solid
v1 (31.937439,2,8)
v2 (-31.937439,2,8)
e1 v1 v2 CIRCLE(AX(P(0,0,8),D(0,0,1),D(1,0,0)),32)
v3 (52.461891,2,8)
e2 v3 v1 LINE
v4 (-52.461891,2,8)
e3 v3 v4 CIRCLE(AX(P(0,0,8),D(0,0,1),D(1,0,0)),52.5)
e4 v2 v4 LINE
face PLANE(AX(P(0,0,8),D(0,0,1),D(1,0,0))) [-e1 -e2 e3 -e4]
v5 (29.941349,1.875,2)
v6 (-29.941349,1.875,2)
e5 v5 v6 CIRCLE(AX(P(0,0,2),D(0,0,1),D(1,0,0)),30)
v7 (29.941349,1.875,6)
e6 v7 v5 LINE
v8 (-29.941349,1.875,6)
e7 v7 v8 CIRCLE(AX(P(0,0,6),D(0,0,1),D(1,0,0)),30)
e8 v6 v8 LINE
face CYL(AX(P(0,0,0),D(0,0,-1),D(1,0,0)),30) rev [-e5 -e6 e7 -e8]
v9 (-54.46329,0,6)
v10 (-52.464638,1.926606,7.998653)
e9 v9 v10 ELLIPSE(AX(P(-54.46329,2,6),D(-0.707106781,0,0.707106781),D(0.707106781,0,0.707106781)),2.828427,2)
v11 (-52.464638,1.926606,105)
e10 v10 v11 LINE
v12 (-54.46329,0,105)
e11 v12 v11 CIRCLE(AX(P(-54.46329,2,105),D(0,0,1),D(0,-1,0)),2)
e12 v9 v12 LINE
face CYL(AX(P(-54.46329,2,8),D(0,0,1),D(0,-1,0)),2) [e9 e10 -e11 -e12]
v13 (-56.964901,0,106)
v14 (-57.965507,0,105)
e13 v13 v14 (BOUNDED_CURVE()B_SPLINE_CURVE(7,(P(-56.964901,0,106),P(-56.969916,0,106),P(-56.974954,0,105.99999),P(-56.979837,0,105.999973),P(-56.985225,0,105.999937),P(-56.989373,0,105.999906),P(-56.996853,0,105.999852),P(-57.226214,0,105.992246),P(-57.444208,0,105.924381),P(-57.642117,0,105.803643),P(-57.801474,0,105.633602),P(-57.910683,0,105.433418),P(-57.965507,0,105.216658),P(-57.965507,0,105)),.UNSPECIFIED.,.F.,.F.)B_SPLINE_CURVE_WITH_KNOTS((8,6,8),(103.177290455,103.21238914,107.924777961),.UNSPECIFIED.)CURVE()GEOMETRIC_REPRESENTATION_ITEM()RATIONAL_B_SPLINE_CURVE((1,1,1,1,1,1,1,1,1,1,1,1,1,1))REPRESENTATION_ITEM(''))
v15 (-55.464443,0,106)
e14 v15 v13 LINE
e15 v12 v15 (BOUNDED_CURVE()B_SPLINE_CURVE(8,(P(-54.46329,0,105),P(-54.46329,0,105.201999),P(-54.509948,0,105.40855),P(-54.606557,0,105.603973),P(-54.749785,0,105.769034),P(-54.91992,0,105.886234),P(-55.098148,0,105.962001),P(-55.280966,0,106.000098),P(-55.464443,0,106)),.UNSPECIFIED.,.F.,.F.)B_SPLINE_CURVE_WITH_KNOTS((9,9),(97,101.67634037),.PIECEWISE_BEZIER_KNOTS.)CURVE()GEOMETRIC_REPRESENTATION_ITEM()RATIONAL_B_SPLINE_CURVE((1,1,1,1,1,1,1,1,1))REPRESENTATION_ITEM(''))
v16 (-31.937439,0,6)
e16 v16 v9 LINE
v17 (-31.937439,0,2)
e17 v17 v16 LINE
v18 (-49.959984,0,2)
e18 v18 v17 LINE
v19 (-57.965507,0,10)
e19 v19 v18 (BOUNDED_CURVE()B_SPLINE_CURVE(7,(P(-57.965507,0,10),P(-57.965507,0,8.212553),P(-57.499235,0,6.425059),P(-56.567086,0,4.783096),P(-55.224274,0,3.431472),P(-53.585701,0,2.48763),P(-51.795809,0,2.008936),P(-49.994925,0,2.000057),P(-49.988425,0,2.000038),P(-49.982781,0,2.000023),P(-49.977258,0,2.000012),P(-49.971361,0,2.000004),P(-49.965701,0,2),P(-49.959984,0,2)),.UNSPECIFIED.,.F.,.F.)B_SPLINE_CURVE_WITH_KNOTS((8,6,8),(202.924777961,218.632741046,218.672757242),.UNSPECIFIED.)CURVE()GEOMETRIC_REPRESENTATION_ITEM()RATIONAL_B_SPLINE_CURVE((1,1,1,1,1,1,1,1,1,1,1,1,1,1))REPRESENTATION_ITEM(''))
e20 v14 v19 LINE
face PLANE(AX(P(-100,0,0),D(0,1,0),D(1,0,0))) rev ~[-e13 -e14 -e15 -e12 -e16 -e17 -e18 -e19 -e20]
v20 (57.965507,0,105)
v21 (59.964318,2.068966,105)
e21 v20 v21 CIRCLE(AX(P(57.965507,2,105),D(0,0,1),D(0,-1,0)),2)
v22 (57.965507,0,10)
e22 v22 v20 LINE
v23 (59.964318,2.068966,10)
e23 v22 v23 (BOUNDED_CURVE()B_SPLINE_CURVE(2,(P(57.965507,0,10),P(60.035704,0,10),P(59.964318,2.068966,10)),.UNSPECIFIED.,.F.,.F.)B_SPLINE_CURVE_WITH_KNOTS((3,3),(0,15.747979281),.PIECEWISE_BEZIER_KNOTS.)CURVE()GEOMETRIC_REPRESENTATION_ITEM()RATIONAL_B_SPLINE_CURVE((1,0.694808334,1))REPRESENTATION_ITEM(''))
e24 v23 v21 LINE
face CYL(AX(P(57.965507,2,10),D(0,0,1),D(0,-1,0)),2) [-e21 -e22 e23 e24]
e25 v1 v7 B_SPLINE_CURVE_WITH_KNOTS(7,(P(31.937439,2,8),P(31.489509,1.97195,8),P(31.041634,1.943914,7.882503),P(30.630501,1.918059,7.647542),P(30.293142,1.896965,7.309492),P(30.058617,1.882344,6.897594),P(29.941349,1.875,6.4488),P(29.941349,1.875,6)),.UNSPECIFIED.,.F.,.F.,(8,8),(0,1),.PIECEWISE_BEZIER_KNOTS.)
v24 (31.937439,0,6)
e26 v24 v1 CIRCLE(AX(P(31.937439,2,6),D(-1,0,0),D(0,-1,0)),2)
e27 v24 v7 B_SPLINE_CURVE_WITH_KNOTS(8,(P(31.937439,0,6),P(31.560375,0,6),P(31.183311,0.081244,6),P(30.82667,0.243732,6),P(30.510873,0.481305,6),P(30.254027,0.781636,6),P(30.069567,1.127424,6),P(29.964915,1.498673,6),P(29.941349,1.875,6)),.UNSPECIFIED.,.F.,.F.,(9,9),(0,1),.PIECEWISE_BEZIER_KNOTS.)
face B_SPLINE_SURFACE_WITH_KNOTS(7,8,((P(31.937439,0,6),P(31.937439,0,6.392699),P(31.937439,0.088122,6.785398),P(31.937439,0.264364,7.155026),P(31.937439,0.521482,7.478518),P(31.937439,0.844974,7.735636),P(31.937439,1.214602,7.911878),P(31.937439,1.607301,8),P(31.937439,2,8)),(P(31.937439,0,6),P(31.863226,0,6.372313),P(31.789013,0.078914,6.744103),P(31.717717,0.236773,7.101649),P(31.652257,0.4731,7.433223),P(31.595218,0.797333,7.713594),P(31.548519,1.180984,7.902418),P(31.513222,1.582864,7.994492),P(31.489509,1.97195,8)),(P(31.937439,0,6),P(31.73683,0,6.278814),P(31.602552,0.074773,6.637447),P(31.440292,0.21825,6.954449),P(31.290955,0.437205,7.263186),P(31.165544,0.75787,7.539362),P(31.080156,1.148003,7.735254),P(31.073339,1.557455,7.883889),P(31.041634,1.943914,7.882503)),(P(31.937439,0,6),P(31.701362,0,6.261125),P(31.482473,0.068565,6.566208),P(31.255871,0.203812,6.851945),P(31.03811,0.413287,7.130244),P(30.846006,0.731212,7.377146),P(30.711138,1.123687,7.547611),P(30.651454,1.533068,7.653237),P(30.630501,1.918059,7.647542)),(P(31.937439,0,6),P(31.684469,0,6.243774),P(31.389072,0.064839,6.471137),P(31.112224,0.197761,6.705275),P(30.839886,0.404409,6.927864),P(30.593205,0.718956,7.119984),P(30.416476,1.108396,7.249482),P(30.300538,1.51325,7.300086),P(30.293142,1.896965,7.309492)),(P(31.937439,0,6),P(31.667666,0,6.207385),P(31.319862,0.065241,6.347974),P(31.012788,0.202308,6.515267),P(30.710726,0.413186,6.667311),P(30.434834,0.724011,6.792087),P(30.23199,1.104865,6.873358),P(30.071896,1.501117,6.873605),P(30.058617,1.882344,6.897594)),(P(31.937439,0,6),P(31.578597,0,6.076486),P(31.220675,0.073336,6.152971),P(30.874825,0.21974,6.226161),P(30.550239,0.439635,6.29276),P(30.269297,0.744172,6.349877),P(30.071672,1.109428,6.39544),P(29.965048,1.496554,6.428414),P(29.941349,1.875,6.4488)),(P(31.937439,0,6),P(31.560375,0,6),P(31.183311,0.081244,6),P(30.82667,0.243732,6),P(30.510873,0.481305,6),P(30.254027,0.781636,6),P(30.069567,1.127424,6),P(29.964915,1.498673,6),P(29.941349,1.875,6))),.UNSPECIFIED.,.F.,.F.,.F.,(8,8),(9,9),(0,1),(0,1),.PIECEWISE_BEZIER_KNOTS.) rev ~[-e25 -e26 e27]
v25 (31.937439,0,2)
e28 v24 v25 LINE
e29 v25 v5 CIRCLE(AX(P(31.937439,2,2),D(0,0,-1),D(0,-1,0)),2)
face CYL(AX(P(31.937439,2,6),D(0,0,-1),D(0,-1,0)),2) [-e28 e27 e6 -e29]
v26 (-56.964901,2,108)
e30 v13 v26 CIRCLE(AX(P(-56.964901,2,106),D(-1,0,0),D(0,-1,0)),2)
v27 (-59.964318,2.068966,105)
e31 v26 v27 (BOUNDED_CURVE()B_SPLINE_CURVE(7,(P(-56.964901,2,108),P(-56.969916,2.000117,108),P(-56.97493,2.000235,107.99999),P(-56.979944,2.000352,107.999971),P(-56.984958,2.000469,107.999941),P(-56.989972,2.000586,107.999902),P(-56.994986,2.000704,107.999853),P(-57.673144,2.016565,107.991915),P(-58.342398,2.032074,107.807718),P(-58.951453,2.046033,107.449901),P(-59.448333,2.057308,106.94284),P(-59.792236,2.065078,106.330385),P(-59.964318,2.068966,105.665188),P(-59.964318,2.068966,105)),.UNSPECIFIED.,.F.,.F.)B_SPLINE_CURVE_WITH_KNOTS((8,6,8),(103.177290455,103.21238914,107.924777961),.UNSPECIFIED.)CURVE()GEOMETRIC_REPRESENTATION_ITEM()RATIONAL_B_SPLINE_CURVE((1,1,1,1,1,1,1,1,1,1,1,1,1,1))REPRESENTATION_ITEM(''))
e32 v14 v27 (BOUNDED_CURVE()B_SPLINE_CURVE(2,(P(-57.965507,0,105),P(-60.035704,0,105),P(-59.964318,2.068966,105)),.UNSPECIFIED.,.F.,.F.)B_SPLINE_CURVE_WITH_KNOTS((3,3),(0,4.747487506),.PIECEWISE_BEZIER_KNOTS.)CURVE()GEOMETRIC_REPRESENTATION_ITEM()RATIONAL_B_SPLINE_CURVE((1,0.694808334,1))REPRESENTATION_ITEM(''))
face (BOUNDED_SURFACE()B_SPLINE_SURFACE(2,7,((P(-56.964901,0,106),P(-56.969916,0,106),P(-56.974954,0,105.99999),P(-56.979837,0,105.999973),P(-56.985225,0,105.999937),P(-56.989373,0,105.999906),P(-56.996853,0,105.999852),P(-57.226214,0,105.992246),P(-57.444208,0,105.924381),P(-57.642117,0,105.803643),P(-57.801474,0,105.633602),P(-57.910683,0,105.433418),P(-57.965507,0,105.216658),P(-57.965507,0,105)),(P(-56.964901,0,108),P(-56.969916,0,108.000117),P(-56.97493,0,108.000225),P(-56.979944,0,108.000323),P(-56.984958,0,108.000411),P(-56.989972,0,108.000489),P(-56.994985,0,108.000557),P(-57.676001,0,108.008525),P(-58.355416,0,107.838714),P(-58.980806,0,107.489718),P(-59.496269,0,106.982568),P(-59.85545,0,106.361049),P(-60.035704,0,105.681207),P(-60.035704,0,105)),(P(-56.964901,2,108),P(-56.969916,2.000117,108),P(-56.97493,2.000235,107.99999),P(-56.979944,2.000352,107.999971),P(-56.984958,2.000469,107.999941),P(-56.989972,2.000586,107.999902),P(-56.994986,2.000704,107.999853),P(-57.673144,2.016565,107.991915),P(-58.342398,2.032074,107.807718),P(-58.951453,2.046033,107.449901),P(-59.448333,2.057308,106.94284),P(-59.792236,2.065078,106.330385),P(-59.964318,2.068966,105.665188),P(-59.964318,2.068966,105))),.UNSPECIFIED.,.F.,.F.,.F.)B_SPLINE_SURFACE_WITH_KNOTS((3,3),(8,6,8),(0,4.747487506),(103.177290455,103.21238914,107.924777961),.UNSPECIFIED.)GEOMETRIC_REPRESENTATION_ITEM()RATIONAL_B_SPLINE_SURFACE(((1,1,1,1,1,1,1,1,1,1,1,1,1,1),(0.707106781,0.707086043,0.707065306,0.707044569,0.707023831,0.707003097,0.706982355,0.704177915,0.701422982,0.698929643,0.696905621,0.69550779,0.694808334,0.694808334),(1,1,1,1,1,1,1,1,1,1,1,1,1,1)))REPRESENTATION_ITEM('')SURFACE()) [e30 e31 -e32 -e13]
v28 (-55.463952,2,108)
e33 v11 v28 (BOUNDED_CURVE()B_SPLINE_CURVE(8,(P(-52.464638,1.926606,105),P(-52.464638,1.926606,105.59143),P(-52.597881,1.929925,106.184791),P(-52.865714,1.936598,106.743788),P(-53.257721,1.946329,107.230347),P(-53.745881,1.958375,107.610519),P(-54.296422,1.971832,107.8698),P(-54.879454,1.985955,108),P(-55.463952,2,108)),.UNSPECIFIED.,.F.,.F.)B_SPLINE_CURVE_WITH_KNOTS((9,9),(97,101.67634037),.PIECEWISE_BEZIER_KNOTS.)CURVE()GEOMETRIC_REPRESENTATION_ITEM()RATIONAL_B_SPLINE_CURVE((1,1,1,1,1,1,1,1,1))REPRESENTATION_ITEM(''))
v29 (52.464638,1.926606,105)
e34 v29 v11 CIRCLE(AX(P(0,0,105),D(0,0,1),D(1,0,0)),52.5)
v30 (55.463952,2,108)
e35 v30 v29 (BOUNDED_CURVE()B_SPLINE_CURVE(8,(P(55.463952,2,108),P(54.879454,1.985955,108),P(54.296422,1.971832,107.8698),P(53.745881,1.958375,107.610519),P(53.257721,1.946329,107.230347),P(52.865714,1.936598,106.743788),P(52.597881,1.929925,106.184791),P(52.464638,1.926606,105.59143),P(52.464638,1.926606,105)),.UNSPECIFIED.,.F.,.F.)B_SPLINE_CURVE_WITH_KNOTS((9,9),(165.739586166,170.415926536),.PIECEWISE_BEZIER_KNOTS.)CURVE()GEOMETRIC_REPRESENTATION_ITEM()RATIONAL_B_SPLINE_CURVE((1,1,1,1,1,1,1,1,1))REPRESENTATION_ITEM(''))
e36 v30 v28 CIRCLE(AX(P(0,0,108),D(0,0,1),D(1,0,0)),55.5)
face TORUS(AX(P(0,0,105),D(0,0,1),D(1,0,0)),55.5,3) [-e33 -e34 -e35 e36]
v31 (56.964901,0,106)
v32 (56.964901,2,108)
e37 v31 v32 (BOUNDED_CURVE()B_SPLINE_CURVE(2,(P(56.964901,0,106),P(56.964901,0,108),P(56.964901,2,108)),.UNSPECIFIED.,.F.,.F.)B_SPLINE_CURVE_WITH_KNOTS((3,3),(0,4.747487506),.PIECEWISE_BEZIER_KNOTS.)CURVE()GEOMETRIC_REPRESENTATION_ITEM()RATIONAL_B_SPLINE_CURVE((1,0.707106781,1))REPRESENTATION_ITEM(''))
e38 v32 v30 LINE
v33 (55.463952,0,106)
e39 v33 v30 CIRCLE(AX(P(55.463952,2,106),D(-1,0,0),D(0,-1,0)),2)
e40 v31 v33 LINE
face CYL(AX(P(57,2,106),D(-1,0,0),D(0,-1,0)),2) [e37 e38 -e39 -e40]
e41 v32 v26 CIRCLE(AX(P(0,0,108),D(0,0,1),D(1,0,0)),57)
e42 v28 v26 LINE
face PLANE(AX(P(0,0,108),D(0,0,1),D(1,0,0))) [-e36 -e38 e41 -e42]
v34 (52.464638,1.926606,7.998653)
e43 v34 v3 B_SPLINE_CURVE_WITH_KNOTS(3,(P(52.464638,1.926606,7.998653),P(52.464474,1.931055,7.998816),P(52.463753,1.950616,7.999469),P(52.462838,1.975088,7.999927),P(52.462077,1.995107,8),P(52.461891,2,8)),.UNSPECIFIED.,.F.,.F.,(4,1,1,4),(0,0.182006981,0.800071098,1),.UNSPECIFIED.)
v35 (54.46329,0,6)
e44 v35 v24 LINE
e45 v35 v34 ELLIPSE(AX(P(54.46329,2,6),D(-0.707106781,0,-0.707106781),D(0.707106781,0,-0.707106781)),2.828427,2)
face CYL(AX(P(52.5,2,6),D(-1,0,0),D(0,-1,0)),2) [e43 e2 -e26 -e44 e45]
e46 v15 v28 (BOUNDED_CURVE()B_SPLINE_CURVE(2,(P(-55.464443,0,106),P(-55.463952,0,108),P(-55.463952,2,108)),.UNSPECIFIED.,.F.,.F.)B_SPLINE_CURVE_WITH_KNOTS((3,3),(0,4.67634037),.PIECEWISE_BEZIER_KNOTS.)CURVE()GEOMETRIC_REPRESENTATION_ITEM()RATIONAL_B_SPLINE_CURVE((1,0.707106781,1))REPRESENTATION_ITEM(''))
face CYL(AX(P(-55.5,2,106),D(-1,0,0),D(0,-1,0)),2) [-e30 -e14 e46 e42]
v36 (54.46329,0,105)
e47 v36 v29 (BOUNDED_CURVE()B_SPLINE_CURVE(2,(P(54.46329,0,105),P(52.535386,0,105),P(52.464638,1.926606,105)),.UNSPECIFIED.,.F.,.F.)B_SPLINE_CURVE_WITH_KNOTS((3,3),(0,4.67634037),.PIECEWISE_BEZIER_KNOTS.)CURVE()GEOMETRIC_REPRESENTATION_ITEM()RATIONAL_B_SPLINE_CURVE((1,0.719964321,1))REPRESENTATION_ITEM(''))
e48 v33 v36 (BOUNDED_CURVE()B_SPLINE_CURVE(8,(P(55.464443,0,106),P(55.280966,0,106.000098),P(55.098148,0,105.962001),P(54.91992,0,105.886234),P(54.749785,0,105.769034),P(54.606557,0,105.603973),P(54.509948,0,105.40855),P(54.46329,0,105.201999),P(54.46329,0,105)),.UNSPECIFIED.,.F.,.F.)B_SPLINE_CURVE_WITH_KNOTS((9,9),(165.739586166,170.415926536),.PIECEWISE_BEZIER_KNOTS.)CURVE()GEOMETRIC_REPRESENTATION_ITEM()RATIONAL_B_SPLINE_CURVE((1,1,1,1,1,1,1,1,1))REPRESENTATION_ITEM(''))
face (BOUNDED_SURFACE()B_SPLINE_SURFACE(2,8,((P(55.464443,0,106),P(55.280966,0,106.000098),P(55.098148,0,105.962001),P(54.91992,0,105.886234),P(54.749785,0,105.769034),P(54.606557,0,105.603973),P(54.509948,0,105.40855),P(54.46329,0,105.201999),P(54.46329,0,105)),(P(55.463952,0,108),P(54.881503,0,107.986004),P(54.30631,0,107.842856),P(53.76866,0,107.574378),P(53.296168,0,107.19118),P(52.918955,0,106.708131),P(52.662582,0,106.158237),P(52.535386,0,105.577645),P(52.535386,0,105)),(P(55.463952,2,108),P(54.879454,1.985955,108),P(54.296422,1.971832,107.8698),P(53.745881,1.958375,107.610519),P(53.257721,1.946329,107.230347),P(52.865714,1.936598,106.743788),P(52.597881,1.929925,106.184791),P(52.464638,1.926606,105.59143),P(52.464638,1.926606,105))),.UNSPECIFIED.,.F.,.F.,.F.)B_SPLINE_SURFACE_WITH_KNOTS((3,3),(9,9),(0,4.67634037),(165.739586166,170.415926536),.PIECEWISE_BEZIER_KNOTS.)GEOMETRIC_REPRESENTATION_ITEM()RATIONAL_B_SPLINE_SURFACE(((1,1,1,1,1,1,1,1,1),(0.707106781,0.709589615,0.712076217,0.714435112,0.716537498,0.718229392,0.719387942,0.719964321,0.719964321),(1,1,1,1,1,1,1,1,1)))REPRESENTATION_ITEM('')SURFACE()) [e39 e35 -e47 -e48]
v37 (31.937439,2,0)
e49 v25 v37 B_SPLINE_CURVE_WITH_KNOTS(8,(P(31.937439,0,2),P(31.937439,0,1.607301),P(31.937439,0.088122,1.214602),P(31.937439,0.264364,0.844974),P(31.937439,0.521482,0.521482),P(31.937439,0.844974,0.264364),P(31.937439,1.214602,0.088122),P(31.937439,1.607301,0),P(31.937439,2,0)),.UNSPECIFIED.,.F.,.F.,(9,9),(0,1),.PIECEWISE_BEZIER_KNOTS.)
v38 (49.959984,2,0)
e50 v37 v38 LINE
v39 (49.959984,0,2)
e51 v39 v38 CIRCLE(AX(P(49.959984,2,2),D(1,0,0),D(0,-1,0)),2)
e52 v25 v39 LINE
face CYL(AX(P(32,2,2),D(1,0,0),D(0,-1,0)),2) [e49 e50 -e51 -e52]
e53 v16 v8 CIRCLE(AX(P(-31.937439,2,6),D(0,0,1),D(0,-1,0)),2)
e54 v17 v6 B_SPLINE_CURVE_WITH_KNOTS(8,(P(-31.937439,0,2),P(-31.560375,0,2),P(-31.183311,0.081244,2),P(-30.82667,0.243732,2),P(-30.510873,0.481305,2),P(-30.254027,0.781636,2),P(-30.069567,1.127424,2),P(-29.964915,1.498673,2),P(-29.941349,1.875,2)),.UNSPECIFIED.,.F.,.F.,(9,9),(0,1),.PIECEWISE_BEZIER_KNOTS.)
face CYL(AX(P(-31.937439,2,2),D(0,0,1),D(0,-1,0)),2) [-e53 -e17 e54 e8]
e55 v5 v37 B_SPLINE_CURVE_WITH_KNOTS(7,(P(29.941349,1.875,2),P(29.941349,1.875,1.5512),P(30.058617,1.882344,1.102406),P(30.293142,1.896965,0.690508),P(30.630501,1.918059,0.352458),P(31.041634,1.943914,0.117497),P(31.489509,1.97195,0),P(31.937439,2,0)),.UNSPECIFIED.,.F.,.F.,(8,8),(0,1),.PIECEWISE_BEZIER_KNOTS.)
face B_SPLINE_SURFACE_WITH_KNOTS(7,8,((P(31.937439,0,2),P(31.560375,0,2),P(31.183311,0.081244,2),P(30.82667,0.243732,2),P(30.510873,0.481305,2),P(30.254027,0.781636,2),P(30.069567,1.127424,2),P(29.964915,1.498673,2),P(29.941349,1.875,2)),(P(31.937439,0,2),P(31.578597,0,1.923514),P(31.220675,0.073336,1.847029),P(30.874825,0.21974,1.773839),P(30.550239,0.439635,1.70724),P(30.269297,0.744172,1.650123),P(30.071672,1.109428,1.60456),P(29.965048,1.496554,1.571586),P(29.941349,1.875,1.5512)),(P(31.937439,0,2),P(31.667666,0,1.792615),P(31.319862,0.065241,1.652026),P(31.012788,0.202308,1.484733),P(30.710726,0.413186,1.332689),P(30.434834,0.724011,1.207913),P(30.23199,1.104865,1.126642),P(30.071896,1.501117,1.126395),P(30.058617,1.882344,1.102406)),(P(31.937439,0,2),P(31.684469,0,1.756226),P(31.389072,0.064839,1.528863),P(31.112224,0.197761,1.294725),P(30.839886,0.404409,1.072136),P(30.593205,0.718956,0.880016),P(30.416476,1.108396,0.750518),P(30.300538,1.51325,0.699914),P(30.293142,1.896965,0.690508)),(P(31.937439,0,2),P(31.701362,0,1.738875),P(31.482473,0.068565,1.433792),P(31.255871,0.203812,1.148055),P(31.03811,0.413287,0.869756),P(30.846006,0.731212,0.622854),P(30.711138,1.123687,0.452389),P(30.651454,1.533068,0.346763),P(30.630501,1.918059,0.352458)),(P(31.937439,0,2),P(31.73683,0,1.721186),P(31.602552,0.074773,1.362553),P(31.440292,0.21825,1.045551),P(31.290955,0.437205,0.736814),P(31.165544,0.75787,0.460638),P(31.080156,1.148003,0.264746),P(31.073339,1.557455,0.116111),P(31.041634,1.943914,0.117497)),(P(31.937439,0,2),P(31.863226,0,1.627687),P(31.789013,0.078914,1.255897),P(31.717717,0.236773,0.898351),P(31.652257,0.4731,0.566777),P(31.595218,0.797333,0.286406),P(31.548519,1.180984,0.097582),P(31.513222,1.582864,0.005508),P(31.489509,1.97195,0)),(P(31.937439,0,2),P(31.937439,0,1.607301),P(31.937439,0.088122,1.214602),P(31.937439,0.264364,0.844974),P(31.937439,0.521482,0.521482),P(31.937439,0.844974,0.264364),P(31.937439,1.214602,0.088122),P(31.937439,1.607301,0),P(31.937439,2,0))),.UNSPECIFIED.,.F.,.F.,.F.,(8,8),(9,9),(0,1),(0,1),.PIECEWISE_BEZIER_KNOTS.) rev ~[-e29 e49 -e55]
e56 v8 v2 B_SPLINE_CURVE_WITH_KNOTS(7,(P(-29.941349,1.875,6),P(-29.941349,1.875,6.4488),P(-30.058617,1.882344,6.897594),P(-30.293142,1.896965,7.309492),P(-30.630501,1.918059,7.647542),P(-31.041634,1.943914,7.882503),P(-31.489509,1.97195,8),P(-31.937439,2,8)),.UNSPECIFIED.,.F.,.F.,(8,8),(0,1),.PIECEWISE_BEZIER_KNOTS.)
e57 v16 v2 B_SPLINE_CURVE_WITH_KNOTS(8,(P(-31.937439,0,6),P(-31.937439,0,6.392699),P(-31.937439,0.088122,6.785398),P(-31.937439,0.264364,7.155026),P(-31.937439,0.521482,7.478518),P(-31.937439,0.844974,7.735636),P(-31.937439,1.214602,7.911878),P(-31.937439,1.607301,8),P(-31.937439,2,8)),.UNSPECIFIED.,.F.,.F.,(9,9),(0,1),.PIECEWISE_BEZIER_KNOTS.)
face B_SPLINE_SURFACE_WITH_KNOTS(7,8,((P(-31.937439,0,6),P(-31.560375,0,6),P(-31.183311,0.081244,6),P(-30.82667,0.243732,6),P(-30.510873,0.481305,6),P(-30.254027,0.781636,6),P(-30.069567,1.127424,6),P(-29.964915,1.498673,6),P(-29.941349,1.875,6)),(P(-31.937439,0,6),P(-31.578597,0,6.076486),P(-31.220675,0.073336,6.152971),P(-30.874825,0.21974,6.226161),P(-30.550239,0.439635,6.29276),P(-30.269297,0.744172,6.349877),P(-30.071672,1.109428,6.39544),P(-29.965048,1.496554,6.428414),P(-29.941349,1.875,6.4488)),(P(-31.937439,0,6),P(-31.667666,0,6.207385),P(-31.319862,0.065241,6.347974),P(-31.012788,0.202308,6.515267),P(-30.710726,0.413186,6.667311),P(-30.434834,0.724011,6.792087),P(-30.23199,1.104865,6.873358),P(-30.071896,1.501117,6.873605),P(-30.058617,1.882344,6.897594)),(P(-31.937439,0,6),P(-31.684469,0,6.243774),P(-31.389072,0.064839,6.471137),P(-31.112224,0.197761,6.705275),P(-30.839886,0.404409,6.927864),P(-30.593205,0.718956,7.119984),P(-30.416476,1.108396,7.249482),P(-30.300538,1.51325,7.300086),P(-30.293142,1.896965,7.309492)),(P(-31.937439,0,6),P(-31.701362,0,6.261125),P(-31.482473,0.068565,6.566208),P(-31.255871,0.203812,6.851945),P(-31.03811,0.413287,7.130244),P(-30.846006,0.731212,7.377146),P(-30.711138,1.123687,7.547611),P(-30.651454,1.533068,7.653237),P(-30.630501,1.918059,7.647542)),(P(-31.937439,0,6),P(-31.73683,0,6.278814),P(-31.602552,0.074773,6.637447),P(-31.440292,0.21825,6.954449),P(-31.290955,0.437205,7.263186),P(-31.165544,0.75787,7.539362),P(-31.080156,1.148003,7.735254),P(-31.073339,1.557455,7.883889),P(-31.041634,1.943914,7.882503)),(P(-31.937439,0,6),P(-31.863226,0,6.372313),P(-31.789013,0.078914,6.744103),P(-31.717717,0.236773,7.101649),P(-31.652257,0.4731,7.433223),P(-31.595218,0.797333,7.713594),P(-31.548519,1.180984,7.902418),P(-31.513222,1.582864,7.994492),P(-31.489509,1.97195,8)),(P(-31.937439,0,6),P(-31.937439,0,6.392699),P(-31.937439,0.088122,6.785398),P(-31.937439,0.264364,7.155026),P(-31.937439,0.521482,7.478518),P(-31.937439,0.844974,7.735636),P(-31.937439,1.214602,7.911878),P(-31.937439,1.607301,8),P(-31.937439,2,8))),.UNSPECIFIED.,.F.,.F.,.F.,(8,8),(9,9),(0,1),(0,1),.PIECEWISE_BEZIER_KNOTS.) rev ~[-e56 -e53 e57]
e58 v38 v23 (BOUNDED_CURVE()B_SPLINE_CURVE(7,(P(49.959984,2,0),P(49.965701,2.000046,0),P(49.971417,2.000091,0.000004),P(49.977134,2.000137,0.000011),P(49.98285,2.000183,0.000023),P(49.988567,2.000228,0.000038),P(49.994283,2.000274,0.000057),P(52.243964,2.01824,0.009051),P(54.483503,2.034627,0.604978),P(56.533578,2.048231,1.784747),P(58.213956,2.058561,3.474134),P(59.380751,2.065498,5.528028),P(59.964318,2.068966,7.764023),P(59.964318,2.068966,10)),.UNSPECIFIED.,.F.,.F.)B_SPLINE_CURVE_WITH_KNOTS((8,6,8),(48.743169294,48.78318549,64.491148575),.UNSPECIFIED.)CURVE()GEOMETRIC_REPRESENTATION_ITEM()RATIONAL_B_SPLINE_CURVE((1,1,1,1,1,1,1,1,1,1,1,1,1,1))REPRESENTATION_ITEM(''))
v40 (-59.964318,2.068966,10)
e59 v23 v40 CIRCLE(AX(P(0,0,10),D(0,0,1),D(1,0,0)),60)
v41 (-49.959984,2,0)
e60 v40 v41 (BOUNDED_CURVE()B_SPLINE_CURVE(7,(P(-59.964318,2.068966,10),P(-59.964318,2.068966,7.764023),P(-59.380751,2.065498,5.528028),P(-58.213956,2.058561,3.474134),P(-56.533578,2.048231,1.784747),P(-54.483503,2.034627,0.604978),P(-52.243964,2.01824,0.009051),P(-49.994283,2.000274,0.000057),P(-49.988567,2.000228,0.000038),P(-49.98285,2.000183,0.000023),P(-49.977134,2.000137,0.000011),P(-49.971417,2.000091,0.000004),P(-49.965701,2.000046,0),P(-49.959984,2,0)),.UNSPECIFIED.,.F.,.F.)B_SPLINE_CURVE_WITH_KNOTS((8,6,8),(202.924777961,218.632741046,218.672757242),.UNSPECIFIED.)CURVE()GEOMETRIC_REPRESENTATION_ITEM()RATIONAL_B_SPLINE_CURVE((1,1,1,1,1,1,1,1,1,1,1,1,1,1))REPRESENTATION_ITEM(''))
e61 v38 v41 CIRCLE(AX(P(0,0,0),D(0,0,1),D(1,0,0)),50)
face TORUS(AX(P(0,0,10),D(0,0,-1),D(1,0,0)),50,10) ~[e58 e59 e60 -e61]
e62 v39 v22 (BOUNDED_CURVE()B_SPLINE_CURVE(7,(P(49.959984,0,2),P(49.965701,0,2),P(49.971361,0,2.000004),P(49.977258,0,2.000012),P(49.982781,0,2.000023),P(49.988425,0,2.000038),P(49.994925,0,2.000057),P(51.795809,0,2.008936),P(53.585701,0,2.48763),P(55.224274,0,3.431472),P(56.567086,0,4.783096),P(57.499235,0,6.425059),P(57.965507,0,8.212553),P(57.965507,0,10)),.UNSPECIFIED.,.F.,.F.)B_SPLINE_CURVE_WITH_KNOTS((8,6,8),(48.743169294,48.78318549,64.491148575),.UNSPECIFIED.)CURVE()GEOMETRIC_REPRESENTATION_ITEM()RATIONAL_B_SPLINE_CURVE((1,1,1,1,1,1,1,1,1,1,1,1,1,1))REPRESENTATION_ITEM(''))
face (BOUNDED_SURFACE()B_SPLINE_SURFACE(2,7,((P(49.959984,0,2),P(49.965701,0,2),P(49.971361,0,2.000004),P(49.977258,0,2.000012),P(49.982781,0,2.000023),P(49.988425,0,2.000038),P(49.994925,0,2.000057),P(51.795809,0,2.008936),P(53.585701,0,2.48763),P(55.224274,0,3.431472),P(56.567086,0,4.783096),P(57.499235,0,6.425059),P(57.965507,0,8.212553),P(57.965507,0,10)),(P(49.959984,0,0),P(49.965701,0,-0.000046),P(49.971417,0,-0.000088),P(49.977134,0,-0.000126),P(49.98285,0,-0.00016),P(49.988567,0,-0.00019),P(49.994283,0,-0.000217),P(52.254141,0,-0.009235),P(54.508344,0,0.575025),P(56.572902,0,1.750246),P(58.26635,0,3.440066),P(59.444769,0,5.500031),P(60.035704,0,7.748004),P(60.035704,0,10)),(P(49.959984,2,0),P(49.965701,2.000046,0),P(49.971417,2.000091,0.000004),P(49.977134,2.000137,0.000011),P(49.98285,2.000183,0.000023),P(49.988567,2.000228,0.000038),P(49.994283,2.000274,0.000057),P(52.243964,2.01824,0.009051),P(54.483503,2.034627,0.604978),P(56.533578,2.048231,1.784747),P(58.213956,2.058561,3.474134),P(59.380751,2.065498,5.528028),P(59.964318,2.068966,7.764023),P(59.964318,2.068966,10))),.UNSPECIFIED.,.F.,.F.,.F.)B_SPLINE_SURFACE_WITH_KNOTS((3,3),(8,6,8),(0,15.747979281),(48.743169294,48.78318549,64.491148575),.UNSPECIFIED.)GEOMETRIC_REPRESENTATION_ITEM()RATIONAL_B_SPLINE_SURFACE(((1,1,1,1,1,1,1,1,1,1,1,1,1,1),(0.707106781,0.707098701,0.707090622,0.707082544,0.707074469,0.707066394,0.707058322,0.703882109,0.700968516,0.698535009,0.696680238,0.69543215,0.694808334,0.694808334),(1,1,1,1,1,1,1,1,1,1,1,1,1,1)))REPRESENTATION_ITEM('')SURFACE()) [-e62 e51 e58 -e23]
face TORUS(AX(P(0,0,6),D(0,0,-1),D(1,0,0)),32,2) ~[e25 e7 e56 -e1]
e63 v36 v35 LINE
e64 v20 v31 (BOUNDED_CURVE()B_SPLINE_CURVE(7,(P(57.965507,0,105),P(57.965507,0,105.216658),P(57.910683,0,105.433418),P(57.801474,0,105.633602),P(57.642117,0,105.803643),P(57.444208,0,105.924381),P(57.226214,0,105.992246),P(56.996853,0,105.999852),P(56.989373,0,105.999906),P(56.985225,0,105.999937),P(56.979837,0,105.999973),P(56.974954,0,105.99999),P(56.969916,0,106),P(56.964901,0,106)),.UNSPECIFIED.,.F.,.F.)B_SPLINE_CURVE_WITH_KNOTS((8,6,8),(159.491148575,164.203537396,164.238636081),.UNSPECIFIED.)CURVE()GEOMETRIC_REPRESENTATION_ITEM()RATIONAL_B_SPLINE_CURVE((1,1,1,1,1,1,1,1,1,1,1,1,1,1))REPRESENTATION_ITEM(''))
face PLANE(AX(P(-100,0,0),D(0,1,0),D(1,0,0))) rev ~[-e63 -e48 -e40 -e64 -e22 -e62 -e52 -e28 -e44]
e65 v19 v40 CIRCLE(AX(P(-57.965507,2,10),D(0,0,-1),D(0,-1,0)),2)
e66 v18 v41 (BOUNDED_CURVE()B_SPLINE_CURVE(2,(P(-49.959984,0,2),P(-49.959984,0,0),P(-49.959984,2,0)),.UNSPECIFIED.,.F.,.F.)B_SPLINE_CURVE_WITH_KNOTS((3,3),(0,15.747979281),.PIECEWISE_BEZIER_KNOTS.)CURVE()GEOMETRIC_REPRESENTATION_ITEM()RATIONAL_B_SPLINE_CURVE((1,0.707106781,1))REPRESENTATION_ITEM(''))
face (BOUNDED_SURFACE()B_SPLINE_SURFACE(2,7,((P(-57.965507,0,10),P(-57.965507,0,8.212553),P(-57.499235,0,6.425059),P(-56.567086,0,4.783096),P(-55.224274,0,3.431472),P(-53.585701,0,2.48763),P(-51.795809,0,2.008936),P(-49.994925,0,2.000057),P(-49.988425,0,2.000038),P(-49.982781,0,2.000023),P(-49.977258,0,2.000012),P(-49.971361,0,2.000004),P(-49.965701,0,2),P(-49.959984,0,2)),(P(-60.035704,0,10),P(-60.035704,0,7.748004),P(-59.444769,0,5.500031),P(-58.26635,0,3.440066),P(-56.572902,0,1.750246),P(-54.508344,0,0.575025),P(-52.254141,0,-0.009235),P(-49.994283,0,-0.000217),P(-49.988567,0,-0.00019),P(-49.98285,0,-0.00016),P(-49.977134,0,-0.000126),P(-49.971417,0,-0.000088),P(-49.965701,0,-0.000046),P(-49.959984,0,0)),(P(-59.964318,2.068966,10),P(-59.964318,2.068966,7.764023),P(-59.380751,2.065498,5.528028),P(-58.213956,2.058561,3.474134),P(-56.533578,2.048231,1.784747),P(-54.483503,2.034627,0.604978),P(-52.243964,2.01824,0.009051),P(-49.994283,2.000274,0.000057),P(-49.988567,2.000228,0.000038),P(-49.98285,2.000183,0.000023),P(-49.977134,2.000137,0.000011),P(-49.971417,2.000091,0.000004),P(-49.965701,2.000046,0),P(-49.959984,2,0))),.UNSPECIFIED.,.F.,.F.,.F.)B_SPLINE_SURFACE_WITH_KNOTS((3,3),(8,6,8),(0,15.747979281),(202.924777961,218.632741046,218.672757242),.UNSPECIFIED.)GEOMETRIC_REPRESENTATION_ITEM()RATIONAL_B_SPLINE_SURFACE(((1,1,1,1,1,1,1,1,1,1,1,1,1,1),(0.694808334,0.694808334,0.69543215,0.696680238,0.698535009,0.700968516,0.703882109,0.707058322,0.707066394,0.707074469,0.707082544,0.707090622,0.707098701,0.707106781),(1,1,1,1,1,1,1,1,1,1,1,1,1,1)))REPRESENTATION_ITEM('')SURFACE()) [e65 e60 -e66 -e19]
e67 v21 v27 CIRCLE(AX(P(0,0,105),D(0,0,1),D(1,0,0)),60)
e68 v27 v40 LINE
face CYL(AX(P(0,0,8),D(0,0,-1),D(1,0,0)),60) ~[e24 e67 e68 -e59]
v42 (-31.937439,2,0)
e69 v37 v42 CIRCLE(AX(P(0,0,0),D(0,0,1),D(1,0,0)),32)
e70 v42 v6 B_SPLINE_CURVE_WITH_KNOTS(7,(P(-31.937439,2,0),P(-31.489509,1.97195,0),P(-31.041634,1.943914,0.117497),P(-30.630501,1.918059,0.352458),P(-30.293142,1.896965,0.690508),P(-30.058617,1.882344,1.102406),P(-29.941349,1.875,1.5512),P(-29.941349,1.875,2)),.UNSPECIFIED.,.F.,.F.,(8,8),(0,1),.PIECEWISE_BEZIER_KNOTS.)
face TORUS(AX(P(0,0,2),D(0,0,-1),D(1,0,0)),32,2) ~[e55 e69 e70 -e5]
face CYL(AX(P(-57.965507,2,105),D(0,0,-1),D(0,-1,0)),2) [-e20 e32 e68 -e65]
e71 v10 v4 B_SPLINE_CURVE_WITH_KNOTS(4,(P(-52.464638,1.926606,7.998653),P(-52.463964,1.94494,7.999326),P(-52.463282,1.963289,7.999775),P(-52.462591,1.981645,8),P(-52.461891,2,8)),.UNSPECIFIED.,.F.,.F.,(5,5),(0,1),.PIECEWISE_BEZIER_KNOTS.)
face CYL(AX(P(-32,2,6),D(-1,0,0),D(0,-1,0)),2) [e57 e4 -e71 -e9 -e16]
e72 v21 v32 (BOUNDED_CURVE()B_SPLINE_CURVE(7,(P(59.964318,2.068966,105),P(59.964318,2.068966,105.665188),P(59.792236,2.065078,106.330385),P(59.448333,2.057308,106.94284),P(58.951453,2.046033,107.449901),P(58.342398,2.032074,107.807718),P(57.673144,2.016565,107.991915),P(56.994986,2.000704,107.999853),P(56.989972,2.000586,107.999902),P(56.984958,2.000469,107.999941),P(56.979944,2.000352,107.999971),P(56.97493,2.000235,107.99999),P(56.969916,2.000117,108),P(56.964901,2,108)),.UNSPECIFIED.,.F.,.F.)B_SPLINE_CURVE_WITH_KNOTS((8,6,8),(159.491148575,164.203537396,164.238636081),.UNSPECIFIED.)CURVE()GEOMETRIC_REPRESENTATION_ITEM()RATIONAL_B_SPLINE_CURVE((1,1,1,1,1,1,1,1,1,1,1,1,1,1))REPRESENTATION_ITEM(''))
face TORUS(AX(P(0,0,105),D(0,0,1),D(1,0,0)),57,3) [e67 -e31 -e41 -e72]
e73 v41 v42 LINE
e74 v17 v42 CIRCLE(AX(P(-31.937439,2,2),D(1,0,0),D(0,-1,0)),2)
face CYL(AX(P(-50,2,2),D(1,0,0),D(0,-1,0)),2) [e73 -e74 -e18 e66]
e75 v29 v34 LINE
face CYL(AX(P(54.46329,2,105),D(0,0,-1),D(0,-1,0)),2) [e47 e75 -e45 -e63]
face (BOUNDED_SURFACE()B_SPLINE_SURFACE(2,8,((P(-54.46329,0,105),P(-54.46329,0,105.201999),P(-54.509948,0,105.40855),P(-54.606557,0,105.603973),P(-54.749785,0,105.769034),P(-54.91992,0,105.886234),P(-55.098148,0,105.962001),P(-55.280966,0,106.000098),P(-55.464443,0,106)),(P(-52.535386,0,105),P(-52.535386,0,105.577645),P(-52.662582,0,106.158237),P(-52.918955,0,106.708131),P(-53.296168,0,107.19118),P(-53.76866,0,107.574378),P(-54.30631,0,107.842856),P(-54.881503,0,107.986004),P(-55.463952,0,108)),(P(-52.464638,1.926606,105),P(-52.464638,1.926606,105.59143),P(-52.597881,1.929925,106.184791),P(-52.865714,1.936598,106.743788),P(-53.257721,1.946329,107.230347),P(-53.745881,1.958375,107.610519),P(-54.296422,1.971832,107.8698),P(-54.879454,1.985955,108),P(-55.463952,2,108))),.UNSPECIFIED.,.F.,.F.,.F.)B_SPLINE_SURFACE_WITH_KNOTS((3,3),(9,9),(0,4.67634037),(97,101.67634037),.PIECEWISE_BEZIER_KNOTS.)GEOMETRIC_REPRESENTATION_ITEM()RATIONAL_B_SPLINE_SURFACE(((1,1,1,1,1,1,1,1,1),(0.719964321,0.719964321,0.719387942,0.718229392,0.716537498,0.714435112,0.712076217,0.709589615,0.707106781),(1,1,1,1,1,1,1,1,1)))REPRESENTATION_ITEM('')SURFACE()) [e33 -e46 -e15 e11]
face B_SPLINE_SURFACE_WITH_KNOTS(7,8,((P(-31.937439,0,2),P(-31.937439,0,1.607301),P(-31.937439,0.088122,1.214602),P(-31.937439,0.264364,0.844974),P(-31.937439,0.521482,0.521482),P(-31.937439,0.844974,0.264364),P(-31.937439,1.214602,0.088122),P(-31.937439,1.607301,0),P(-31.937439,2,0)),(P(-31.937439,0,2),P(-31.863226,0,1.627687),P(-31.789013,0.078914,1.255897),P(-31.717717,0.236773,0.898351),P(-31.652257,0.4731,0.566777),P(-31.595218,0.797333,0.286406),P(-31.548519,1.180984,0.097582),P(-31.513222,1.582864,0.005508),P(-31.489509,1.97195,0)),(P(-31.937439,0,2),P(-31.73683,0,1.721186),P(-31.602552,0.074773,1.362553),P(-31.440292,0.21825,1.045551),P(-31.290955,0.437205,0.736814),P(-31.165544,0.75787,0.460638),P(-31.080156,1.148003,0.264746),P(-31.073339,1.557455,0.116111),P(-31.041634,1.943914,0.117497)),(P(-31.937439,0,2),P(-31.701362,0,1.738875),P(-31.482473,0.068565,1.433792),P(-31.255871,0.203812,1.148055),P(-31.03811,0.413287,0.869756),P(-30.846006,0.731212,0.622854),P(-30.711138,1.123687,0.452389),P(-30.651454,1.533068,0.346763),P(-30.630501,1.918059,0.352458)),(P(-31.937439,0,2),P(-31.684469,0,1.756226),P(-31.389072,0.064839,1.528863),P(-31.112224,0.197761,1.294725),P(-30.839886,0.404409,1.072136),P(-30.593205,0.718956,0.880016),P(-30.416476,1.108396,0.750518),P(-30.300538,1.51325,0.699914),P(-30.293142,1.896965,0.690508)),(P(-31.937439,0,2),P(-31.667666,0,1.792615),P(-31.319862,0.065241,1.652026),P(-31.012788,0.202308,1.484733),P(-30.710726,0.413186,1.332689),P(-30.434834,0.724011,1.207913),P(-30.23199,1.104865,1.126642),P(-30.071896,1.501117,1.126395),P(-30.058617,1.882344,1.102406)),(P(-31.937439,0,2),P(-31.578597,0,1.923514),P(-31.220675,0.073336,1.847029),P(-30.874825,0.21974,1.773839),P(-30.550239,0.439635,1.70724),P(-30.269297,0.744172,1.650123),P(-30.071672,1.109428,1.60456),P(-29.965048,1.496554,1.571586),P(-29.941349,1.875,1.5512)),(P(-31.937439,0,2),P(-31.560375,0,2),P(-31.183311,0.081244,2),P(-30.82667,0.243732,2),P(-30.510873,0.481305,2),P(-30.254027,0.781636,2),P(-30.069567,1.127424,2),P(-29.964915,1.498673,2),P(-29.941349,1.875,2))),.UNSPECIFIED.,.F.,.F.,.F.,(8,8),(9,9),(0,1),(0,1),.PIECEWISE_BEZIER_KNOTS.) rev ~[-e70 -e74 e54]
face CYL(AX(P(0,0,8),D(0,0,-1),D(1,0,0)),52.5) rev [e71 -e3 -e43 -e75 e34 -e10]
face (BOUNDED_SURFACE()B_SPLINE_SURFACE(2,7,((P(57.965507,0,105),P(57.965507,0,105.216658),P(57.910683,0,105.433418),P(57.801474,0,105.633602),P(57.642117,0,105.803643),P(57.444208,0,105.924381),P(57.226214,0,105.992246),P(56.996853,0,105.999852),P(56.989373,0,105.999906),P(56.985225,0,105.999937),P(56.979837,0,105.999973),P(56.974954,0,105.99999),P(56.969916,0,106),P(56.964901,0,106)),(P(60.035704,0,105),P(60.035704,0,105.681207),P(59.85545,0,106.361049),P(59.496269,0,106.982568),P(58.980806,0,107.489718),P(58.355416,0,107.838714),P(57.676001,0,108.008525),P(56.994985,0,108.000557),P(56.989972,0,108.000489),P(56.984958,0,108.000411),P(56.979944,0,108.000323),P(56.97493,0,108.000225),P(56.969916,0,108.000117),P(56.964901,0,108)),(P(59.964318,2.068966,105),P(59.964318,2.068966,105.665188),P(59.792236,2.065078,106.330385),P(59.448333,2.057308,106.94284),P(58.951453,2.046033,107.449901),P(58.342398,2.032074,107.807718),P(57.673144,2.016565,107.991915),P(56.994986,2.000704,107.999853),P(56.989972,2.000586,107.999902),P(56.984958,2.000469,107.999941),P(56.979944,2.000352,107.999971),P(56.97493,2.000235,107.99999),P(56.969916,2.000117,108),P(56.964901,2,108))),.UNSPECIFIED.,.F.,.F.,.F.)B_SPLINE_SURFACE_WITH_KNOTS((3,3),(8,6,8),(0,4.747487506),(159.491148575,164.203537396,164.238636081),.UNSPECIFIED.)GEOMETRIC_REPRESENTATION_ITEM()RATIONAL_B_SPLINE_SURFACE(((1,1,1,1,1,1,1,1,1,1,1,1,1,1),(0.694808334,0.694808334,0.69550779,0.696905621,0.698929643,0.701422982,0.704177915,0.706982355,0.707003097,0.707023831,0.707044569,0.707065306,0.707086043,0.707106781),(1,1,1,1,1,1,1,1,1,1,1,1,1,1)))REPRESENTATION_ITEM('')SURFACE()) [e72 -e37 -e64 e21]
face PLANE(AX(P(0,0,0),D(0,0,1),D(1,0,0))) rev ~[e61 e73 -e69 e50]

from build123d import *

# Parameters (mm, degrees)
SKETCH_R      = 60
SKETCH_R_2    = 30
PAD_DEPTH     = 8
SKETCH001_R   = 60
SKETCH001_R_2 = 52.5
PAD001_DEPTH  = 100
FILLET_R      = 10
FILLET001_R   = 2
FILLET002_R   = 3
SKETCH002_W   = 200
SKETCH002_H   = 80
POCKET_DEPTH  = 108.001
FILLET003_R   = 2


with BuildPart() as part:
    # Sketch → Pad (new body)
    with BuildSketch(Plane.XY):
        Circle(SKETCH_R)
        Circle(SKETCH_R_2, mode=Mode.SUBTRACT)
    extrude(amount=PAD_DEPTH)

    # Sketch001 (on Face4 of Pad) → Pad001 (join)
    with BuildSketch(Plane.XY.offset(8)):
        Circle(SKETCH001_R)
        Circle(SKETCH001_R_2, mode=Mode.SUBTRACT)
    extrude(amount=PAD001_DEPTH)

    # Fillet
    fillet_edges = [part.edges().sort_by_distance(p)[0] for p in [
        (-60, 0, 0),
    ]]
    fillet(fillet_edges, radius=FILLET_R)

    # Fillet001
    fillet001_edges = [part.edges().sort_by_distance(p)[0] for p in [
        (-30, 0, 0),
        (-30, 0, 8),
    ]]
    fillet(fillet001_edges, radius=FILLET001_R)

    # Fillet002
    fillet002_edges = [part.edges().sort_by_distance(p)[0] for p in [
        (-52.5, 0, 108),
        (-60, 0, 108),
    ]]
    fillet(fillet002_edges, radius=FILLET002_R)

    # Sketch002 (on Face5 of Fillet002) → Pocket (cut, through all)
    with BuildSketch(Plane(origin=(0, 0, 0), x_dir=(1, 0, 0), z_dir=(0, 0, -1))):
        with Locations((0, 40)):
            Rectangle(SKETCH002_W, SKETCH002_H)
    extrude(amount=-POCKET_DEPTH, mode=Mode.SUBTRACT)

    # Fillet003
    fillet003_edges = [part.edges().sort_by_distance(p)[0] for p in [
        (-41, 0, 0),
        (-57.071068, 0, 2.928932),
        (-60, 0, 57.5),
        (-59.12132, 0, 107.12132),
        (-56.25, 0, 108),
        (-53.37868, 0, 107.12132),
        (-52.5, 0, 56.5),
        (-42.25, 0, 8),
        (-30.585786, 0, 7.414214),
        (-30, 0, 4),
        (-30.585786, 0, 0.585786),
        (41, 0, 0),
        (30.585786, 0, 0.585786),
        (30, 0, 4),
        (30.585786, 0, 7.414214),
        (42.25, 0, 8),
        (52.5, 0, 56.5),
        (53.37868, 0, 107.12132),
        (56.25, 0, 108),
        (59.12132, 0, 107.12132),
        (60, 0, 57.5),
        (57.071067, 0, 2.928931),
    ]]
    fillet(fillet003_edges, radius=FILLET003_R)


solid = part.part
